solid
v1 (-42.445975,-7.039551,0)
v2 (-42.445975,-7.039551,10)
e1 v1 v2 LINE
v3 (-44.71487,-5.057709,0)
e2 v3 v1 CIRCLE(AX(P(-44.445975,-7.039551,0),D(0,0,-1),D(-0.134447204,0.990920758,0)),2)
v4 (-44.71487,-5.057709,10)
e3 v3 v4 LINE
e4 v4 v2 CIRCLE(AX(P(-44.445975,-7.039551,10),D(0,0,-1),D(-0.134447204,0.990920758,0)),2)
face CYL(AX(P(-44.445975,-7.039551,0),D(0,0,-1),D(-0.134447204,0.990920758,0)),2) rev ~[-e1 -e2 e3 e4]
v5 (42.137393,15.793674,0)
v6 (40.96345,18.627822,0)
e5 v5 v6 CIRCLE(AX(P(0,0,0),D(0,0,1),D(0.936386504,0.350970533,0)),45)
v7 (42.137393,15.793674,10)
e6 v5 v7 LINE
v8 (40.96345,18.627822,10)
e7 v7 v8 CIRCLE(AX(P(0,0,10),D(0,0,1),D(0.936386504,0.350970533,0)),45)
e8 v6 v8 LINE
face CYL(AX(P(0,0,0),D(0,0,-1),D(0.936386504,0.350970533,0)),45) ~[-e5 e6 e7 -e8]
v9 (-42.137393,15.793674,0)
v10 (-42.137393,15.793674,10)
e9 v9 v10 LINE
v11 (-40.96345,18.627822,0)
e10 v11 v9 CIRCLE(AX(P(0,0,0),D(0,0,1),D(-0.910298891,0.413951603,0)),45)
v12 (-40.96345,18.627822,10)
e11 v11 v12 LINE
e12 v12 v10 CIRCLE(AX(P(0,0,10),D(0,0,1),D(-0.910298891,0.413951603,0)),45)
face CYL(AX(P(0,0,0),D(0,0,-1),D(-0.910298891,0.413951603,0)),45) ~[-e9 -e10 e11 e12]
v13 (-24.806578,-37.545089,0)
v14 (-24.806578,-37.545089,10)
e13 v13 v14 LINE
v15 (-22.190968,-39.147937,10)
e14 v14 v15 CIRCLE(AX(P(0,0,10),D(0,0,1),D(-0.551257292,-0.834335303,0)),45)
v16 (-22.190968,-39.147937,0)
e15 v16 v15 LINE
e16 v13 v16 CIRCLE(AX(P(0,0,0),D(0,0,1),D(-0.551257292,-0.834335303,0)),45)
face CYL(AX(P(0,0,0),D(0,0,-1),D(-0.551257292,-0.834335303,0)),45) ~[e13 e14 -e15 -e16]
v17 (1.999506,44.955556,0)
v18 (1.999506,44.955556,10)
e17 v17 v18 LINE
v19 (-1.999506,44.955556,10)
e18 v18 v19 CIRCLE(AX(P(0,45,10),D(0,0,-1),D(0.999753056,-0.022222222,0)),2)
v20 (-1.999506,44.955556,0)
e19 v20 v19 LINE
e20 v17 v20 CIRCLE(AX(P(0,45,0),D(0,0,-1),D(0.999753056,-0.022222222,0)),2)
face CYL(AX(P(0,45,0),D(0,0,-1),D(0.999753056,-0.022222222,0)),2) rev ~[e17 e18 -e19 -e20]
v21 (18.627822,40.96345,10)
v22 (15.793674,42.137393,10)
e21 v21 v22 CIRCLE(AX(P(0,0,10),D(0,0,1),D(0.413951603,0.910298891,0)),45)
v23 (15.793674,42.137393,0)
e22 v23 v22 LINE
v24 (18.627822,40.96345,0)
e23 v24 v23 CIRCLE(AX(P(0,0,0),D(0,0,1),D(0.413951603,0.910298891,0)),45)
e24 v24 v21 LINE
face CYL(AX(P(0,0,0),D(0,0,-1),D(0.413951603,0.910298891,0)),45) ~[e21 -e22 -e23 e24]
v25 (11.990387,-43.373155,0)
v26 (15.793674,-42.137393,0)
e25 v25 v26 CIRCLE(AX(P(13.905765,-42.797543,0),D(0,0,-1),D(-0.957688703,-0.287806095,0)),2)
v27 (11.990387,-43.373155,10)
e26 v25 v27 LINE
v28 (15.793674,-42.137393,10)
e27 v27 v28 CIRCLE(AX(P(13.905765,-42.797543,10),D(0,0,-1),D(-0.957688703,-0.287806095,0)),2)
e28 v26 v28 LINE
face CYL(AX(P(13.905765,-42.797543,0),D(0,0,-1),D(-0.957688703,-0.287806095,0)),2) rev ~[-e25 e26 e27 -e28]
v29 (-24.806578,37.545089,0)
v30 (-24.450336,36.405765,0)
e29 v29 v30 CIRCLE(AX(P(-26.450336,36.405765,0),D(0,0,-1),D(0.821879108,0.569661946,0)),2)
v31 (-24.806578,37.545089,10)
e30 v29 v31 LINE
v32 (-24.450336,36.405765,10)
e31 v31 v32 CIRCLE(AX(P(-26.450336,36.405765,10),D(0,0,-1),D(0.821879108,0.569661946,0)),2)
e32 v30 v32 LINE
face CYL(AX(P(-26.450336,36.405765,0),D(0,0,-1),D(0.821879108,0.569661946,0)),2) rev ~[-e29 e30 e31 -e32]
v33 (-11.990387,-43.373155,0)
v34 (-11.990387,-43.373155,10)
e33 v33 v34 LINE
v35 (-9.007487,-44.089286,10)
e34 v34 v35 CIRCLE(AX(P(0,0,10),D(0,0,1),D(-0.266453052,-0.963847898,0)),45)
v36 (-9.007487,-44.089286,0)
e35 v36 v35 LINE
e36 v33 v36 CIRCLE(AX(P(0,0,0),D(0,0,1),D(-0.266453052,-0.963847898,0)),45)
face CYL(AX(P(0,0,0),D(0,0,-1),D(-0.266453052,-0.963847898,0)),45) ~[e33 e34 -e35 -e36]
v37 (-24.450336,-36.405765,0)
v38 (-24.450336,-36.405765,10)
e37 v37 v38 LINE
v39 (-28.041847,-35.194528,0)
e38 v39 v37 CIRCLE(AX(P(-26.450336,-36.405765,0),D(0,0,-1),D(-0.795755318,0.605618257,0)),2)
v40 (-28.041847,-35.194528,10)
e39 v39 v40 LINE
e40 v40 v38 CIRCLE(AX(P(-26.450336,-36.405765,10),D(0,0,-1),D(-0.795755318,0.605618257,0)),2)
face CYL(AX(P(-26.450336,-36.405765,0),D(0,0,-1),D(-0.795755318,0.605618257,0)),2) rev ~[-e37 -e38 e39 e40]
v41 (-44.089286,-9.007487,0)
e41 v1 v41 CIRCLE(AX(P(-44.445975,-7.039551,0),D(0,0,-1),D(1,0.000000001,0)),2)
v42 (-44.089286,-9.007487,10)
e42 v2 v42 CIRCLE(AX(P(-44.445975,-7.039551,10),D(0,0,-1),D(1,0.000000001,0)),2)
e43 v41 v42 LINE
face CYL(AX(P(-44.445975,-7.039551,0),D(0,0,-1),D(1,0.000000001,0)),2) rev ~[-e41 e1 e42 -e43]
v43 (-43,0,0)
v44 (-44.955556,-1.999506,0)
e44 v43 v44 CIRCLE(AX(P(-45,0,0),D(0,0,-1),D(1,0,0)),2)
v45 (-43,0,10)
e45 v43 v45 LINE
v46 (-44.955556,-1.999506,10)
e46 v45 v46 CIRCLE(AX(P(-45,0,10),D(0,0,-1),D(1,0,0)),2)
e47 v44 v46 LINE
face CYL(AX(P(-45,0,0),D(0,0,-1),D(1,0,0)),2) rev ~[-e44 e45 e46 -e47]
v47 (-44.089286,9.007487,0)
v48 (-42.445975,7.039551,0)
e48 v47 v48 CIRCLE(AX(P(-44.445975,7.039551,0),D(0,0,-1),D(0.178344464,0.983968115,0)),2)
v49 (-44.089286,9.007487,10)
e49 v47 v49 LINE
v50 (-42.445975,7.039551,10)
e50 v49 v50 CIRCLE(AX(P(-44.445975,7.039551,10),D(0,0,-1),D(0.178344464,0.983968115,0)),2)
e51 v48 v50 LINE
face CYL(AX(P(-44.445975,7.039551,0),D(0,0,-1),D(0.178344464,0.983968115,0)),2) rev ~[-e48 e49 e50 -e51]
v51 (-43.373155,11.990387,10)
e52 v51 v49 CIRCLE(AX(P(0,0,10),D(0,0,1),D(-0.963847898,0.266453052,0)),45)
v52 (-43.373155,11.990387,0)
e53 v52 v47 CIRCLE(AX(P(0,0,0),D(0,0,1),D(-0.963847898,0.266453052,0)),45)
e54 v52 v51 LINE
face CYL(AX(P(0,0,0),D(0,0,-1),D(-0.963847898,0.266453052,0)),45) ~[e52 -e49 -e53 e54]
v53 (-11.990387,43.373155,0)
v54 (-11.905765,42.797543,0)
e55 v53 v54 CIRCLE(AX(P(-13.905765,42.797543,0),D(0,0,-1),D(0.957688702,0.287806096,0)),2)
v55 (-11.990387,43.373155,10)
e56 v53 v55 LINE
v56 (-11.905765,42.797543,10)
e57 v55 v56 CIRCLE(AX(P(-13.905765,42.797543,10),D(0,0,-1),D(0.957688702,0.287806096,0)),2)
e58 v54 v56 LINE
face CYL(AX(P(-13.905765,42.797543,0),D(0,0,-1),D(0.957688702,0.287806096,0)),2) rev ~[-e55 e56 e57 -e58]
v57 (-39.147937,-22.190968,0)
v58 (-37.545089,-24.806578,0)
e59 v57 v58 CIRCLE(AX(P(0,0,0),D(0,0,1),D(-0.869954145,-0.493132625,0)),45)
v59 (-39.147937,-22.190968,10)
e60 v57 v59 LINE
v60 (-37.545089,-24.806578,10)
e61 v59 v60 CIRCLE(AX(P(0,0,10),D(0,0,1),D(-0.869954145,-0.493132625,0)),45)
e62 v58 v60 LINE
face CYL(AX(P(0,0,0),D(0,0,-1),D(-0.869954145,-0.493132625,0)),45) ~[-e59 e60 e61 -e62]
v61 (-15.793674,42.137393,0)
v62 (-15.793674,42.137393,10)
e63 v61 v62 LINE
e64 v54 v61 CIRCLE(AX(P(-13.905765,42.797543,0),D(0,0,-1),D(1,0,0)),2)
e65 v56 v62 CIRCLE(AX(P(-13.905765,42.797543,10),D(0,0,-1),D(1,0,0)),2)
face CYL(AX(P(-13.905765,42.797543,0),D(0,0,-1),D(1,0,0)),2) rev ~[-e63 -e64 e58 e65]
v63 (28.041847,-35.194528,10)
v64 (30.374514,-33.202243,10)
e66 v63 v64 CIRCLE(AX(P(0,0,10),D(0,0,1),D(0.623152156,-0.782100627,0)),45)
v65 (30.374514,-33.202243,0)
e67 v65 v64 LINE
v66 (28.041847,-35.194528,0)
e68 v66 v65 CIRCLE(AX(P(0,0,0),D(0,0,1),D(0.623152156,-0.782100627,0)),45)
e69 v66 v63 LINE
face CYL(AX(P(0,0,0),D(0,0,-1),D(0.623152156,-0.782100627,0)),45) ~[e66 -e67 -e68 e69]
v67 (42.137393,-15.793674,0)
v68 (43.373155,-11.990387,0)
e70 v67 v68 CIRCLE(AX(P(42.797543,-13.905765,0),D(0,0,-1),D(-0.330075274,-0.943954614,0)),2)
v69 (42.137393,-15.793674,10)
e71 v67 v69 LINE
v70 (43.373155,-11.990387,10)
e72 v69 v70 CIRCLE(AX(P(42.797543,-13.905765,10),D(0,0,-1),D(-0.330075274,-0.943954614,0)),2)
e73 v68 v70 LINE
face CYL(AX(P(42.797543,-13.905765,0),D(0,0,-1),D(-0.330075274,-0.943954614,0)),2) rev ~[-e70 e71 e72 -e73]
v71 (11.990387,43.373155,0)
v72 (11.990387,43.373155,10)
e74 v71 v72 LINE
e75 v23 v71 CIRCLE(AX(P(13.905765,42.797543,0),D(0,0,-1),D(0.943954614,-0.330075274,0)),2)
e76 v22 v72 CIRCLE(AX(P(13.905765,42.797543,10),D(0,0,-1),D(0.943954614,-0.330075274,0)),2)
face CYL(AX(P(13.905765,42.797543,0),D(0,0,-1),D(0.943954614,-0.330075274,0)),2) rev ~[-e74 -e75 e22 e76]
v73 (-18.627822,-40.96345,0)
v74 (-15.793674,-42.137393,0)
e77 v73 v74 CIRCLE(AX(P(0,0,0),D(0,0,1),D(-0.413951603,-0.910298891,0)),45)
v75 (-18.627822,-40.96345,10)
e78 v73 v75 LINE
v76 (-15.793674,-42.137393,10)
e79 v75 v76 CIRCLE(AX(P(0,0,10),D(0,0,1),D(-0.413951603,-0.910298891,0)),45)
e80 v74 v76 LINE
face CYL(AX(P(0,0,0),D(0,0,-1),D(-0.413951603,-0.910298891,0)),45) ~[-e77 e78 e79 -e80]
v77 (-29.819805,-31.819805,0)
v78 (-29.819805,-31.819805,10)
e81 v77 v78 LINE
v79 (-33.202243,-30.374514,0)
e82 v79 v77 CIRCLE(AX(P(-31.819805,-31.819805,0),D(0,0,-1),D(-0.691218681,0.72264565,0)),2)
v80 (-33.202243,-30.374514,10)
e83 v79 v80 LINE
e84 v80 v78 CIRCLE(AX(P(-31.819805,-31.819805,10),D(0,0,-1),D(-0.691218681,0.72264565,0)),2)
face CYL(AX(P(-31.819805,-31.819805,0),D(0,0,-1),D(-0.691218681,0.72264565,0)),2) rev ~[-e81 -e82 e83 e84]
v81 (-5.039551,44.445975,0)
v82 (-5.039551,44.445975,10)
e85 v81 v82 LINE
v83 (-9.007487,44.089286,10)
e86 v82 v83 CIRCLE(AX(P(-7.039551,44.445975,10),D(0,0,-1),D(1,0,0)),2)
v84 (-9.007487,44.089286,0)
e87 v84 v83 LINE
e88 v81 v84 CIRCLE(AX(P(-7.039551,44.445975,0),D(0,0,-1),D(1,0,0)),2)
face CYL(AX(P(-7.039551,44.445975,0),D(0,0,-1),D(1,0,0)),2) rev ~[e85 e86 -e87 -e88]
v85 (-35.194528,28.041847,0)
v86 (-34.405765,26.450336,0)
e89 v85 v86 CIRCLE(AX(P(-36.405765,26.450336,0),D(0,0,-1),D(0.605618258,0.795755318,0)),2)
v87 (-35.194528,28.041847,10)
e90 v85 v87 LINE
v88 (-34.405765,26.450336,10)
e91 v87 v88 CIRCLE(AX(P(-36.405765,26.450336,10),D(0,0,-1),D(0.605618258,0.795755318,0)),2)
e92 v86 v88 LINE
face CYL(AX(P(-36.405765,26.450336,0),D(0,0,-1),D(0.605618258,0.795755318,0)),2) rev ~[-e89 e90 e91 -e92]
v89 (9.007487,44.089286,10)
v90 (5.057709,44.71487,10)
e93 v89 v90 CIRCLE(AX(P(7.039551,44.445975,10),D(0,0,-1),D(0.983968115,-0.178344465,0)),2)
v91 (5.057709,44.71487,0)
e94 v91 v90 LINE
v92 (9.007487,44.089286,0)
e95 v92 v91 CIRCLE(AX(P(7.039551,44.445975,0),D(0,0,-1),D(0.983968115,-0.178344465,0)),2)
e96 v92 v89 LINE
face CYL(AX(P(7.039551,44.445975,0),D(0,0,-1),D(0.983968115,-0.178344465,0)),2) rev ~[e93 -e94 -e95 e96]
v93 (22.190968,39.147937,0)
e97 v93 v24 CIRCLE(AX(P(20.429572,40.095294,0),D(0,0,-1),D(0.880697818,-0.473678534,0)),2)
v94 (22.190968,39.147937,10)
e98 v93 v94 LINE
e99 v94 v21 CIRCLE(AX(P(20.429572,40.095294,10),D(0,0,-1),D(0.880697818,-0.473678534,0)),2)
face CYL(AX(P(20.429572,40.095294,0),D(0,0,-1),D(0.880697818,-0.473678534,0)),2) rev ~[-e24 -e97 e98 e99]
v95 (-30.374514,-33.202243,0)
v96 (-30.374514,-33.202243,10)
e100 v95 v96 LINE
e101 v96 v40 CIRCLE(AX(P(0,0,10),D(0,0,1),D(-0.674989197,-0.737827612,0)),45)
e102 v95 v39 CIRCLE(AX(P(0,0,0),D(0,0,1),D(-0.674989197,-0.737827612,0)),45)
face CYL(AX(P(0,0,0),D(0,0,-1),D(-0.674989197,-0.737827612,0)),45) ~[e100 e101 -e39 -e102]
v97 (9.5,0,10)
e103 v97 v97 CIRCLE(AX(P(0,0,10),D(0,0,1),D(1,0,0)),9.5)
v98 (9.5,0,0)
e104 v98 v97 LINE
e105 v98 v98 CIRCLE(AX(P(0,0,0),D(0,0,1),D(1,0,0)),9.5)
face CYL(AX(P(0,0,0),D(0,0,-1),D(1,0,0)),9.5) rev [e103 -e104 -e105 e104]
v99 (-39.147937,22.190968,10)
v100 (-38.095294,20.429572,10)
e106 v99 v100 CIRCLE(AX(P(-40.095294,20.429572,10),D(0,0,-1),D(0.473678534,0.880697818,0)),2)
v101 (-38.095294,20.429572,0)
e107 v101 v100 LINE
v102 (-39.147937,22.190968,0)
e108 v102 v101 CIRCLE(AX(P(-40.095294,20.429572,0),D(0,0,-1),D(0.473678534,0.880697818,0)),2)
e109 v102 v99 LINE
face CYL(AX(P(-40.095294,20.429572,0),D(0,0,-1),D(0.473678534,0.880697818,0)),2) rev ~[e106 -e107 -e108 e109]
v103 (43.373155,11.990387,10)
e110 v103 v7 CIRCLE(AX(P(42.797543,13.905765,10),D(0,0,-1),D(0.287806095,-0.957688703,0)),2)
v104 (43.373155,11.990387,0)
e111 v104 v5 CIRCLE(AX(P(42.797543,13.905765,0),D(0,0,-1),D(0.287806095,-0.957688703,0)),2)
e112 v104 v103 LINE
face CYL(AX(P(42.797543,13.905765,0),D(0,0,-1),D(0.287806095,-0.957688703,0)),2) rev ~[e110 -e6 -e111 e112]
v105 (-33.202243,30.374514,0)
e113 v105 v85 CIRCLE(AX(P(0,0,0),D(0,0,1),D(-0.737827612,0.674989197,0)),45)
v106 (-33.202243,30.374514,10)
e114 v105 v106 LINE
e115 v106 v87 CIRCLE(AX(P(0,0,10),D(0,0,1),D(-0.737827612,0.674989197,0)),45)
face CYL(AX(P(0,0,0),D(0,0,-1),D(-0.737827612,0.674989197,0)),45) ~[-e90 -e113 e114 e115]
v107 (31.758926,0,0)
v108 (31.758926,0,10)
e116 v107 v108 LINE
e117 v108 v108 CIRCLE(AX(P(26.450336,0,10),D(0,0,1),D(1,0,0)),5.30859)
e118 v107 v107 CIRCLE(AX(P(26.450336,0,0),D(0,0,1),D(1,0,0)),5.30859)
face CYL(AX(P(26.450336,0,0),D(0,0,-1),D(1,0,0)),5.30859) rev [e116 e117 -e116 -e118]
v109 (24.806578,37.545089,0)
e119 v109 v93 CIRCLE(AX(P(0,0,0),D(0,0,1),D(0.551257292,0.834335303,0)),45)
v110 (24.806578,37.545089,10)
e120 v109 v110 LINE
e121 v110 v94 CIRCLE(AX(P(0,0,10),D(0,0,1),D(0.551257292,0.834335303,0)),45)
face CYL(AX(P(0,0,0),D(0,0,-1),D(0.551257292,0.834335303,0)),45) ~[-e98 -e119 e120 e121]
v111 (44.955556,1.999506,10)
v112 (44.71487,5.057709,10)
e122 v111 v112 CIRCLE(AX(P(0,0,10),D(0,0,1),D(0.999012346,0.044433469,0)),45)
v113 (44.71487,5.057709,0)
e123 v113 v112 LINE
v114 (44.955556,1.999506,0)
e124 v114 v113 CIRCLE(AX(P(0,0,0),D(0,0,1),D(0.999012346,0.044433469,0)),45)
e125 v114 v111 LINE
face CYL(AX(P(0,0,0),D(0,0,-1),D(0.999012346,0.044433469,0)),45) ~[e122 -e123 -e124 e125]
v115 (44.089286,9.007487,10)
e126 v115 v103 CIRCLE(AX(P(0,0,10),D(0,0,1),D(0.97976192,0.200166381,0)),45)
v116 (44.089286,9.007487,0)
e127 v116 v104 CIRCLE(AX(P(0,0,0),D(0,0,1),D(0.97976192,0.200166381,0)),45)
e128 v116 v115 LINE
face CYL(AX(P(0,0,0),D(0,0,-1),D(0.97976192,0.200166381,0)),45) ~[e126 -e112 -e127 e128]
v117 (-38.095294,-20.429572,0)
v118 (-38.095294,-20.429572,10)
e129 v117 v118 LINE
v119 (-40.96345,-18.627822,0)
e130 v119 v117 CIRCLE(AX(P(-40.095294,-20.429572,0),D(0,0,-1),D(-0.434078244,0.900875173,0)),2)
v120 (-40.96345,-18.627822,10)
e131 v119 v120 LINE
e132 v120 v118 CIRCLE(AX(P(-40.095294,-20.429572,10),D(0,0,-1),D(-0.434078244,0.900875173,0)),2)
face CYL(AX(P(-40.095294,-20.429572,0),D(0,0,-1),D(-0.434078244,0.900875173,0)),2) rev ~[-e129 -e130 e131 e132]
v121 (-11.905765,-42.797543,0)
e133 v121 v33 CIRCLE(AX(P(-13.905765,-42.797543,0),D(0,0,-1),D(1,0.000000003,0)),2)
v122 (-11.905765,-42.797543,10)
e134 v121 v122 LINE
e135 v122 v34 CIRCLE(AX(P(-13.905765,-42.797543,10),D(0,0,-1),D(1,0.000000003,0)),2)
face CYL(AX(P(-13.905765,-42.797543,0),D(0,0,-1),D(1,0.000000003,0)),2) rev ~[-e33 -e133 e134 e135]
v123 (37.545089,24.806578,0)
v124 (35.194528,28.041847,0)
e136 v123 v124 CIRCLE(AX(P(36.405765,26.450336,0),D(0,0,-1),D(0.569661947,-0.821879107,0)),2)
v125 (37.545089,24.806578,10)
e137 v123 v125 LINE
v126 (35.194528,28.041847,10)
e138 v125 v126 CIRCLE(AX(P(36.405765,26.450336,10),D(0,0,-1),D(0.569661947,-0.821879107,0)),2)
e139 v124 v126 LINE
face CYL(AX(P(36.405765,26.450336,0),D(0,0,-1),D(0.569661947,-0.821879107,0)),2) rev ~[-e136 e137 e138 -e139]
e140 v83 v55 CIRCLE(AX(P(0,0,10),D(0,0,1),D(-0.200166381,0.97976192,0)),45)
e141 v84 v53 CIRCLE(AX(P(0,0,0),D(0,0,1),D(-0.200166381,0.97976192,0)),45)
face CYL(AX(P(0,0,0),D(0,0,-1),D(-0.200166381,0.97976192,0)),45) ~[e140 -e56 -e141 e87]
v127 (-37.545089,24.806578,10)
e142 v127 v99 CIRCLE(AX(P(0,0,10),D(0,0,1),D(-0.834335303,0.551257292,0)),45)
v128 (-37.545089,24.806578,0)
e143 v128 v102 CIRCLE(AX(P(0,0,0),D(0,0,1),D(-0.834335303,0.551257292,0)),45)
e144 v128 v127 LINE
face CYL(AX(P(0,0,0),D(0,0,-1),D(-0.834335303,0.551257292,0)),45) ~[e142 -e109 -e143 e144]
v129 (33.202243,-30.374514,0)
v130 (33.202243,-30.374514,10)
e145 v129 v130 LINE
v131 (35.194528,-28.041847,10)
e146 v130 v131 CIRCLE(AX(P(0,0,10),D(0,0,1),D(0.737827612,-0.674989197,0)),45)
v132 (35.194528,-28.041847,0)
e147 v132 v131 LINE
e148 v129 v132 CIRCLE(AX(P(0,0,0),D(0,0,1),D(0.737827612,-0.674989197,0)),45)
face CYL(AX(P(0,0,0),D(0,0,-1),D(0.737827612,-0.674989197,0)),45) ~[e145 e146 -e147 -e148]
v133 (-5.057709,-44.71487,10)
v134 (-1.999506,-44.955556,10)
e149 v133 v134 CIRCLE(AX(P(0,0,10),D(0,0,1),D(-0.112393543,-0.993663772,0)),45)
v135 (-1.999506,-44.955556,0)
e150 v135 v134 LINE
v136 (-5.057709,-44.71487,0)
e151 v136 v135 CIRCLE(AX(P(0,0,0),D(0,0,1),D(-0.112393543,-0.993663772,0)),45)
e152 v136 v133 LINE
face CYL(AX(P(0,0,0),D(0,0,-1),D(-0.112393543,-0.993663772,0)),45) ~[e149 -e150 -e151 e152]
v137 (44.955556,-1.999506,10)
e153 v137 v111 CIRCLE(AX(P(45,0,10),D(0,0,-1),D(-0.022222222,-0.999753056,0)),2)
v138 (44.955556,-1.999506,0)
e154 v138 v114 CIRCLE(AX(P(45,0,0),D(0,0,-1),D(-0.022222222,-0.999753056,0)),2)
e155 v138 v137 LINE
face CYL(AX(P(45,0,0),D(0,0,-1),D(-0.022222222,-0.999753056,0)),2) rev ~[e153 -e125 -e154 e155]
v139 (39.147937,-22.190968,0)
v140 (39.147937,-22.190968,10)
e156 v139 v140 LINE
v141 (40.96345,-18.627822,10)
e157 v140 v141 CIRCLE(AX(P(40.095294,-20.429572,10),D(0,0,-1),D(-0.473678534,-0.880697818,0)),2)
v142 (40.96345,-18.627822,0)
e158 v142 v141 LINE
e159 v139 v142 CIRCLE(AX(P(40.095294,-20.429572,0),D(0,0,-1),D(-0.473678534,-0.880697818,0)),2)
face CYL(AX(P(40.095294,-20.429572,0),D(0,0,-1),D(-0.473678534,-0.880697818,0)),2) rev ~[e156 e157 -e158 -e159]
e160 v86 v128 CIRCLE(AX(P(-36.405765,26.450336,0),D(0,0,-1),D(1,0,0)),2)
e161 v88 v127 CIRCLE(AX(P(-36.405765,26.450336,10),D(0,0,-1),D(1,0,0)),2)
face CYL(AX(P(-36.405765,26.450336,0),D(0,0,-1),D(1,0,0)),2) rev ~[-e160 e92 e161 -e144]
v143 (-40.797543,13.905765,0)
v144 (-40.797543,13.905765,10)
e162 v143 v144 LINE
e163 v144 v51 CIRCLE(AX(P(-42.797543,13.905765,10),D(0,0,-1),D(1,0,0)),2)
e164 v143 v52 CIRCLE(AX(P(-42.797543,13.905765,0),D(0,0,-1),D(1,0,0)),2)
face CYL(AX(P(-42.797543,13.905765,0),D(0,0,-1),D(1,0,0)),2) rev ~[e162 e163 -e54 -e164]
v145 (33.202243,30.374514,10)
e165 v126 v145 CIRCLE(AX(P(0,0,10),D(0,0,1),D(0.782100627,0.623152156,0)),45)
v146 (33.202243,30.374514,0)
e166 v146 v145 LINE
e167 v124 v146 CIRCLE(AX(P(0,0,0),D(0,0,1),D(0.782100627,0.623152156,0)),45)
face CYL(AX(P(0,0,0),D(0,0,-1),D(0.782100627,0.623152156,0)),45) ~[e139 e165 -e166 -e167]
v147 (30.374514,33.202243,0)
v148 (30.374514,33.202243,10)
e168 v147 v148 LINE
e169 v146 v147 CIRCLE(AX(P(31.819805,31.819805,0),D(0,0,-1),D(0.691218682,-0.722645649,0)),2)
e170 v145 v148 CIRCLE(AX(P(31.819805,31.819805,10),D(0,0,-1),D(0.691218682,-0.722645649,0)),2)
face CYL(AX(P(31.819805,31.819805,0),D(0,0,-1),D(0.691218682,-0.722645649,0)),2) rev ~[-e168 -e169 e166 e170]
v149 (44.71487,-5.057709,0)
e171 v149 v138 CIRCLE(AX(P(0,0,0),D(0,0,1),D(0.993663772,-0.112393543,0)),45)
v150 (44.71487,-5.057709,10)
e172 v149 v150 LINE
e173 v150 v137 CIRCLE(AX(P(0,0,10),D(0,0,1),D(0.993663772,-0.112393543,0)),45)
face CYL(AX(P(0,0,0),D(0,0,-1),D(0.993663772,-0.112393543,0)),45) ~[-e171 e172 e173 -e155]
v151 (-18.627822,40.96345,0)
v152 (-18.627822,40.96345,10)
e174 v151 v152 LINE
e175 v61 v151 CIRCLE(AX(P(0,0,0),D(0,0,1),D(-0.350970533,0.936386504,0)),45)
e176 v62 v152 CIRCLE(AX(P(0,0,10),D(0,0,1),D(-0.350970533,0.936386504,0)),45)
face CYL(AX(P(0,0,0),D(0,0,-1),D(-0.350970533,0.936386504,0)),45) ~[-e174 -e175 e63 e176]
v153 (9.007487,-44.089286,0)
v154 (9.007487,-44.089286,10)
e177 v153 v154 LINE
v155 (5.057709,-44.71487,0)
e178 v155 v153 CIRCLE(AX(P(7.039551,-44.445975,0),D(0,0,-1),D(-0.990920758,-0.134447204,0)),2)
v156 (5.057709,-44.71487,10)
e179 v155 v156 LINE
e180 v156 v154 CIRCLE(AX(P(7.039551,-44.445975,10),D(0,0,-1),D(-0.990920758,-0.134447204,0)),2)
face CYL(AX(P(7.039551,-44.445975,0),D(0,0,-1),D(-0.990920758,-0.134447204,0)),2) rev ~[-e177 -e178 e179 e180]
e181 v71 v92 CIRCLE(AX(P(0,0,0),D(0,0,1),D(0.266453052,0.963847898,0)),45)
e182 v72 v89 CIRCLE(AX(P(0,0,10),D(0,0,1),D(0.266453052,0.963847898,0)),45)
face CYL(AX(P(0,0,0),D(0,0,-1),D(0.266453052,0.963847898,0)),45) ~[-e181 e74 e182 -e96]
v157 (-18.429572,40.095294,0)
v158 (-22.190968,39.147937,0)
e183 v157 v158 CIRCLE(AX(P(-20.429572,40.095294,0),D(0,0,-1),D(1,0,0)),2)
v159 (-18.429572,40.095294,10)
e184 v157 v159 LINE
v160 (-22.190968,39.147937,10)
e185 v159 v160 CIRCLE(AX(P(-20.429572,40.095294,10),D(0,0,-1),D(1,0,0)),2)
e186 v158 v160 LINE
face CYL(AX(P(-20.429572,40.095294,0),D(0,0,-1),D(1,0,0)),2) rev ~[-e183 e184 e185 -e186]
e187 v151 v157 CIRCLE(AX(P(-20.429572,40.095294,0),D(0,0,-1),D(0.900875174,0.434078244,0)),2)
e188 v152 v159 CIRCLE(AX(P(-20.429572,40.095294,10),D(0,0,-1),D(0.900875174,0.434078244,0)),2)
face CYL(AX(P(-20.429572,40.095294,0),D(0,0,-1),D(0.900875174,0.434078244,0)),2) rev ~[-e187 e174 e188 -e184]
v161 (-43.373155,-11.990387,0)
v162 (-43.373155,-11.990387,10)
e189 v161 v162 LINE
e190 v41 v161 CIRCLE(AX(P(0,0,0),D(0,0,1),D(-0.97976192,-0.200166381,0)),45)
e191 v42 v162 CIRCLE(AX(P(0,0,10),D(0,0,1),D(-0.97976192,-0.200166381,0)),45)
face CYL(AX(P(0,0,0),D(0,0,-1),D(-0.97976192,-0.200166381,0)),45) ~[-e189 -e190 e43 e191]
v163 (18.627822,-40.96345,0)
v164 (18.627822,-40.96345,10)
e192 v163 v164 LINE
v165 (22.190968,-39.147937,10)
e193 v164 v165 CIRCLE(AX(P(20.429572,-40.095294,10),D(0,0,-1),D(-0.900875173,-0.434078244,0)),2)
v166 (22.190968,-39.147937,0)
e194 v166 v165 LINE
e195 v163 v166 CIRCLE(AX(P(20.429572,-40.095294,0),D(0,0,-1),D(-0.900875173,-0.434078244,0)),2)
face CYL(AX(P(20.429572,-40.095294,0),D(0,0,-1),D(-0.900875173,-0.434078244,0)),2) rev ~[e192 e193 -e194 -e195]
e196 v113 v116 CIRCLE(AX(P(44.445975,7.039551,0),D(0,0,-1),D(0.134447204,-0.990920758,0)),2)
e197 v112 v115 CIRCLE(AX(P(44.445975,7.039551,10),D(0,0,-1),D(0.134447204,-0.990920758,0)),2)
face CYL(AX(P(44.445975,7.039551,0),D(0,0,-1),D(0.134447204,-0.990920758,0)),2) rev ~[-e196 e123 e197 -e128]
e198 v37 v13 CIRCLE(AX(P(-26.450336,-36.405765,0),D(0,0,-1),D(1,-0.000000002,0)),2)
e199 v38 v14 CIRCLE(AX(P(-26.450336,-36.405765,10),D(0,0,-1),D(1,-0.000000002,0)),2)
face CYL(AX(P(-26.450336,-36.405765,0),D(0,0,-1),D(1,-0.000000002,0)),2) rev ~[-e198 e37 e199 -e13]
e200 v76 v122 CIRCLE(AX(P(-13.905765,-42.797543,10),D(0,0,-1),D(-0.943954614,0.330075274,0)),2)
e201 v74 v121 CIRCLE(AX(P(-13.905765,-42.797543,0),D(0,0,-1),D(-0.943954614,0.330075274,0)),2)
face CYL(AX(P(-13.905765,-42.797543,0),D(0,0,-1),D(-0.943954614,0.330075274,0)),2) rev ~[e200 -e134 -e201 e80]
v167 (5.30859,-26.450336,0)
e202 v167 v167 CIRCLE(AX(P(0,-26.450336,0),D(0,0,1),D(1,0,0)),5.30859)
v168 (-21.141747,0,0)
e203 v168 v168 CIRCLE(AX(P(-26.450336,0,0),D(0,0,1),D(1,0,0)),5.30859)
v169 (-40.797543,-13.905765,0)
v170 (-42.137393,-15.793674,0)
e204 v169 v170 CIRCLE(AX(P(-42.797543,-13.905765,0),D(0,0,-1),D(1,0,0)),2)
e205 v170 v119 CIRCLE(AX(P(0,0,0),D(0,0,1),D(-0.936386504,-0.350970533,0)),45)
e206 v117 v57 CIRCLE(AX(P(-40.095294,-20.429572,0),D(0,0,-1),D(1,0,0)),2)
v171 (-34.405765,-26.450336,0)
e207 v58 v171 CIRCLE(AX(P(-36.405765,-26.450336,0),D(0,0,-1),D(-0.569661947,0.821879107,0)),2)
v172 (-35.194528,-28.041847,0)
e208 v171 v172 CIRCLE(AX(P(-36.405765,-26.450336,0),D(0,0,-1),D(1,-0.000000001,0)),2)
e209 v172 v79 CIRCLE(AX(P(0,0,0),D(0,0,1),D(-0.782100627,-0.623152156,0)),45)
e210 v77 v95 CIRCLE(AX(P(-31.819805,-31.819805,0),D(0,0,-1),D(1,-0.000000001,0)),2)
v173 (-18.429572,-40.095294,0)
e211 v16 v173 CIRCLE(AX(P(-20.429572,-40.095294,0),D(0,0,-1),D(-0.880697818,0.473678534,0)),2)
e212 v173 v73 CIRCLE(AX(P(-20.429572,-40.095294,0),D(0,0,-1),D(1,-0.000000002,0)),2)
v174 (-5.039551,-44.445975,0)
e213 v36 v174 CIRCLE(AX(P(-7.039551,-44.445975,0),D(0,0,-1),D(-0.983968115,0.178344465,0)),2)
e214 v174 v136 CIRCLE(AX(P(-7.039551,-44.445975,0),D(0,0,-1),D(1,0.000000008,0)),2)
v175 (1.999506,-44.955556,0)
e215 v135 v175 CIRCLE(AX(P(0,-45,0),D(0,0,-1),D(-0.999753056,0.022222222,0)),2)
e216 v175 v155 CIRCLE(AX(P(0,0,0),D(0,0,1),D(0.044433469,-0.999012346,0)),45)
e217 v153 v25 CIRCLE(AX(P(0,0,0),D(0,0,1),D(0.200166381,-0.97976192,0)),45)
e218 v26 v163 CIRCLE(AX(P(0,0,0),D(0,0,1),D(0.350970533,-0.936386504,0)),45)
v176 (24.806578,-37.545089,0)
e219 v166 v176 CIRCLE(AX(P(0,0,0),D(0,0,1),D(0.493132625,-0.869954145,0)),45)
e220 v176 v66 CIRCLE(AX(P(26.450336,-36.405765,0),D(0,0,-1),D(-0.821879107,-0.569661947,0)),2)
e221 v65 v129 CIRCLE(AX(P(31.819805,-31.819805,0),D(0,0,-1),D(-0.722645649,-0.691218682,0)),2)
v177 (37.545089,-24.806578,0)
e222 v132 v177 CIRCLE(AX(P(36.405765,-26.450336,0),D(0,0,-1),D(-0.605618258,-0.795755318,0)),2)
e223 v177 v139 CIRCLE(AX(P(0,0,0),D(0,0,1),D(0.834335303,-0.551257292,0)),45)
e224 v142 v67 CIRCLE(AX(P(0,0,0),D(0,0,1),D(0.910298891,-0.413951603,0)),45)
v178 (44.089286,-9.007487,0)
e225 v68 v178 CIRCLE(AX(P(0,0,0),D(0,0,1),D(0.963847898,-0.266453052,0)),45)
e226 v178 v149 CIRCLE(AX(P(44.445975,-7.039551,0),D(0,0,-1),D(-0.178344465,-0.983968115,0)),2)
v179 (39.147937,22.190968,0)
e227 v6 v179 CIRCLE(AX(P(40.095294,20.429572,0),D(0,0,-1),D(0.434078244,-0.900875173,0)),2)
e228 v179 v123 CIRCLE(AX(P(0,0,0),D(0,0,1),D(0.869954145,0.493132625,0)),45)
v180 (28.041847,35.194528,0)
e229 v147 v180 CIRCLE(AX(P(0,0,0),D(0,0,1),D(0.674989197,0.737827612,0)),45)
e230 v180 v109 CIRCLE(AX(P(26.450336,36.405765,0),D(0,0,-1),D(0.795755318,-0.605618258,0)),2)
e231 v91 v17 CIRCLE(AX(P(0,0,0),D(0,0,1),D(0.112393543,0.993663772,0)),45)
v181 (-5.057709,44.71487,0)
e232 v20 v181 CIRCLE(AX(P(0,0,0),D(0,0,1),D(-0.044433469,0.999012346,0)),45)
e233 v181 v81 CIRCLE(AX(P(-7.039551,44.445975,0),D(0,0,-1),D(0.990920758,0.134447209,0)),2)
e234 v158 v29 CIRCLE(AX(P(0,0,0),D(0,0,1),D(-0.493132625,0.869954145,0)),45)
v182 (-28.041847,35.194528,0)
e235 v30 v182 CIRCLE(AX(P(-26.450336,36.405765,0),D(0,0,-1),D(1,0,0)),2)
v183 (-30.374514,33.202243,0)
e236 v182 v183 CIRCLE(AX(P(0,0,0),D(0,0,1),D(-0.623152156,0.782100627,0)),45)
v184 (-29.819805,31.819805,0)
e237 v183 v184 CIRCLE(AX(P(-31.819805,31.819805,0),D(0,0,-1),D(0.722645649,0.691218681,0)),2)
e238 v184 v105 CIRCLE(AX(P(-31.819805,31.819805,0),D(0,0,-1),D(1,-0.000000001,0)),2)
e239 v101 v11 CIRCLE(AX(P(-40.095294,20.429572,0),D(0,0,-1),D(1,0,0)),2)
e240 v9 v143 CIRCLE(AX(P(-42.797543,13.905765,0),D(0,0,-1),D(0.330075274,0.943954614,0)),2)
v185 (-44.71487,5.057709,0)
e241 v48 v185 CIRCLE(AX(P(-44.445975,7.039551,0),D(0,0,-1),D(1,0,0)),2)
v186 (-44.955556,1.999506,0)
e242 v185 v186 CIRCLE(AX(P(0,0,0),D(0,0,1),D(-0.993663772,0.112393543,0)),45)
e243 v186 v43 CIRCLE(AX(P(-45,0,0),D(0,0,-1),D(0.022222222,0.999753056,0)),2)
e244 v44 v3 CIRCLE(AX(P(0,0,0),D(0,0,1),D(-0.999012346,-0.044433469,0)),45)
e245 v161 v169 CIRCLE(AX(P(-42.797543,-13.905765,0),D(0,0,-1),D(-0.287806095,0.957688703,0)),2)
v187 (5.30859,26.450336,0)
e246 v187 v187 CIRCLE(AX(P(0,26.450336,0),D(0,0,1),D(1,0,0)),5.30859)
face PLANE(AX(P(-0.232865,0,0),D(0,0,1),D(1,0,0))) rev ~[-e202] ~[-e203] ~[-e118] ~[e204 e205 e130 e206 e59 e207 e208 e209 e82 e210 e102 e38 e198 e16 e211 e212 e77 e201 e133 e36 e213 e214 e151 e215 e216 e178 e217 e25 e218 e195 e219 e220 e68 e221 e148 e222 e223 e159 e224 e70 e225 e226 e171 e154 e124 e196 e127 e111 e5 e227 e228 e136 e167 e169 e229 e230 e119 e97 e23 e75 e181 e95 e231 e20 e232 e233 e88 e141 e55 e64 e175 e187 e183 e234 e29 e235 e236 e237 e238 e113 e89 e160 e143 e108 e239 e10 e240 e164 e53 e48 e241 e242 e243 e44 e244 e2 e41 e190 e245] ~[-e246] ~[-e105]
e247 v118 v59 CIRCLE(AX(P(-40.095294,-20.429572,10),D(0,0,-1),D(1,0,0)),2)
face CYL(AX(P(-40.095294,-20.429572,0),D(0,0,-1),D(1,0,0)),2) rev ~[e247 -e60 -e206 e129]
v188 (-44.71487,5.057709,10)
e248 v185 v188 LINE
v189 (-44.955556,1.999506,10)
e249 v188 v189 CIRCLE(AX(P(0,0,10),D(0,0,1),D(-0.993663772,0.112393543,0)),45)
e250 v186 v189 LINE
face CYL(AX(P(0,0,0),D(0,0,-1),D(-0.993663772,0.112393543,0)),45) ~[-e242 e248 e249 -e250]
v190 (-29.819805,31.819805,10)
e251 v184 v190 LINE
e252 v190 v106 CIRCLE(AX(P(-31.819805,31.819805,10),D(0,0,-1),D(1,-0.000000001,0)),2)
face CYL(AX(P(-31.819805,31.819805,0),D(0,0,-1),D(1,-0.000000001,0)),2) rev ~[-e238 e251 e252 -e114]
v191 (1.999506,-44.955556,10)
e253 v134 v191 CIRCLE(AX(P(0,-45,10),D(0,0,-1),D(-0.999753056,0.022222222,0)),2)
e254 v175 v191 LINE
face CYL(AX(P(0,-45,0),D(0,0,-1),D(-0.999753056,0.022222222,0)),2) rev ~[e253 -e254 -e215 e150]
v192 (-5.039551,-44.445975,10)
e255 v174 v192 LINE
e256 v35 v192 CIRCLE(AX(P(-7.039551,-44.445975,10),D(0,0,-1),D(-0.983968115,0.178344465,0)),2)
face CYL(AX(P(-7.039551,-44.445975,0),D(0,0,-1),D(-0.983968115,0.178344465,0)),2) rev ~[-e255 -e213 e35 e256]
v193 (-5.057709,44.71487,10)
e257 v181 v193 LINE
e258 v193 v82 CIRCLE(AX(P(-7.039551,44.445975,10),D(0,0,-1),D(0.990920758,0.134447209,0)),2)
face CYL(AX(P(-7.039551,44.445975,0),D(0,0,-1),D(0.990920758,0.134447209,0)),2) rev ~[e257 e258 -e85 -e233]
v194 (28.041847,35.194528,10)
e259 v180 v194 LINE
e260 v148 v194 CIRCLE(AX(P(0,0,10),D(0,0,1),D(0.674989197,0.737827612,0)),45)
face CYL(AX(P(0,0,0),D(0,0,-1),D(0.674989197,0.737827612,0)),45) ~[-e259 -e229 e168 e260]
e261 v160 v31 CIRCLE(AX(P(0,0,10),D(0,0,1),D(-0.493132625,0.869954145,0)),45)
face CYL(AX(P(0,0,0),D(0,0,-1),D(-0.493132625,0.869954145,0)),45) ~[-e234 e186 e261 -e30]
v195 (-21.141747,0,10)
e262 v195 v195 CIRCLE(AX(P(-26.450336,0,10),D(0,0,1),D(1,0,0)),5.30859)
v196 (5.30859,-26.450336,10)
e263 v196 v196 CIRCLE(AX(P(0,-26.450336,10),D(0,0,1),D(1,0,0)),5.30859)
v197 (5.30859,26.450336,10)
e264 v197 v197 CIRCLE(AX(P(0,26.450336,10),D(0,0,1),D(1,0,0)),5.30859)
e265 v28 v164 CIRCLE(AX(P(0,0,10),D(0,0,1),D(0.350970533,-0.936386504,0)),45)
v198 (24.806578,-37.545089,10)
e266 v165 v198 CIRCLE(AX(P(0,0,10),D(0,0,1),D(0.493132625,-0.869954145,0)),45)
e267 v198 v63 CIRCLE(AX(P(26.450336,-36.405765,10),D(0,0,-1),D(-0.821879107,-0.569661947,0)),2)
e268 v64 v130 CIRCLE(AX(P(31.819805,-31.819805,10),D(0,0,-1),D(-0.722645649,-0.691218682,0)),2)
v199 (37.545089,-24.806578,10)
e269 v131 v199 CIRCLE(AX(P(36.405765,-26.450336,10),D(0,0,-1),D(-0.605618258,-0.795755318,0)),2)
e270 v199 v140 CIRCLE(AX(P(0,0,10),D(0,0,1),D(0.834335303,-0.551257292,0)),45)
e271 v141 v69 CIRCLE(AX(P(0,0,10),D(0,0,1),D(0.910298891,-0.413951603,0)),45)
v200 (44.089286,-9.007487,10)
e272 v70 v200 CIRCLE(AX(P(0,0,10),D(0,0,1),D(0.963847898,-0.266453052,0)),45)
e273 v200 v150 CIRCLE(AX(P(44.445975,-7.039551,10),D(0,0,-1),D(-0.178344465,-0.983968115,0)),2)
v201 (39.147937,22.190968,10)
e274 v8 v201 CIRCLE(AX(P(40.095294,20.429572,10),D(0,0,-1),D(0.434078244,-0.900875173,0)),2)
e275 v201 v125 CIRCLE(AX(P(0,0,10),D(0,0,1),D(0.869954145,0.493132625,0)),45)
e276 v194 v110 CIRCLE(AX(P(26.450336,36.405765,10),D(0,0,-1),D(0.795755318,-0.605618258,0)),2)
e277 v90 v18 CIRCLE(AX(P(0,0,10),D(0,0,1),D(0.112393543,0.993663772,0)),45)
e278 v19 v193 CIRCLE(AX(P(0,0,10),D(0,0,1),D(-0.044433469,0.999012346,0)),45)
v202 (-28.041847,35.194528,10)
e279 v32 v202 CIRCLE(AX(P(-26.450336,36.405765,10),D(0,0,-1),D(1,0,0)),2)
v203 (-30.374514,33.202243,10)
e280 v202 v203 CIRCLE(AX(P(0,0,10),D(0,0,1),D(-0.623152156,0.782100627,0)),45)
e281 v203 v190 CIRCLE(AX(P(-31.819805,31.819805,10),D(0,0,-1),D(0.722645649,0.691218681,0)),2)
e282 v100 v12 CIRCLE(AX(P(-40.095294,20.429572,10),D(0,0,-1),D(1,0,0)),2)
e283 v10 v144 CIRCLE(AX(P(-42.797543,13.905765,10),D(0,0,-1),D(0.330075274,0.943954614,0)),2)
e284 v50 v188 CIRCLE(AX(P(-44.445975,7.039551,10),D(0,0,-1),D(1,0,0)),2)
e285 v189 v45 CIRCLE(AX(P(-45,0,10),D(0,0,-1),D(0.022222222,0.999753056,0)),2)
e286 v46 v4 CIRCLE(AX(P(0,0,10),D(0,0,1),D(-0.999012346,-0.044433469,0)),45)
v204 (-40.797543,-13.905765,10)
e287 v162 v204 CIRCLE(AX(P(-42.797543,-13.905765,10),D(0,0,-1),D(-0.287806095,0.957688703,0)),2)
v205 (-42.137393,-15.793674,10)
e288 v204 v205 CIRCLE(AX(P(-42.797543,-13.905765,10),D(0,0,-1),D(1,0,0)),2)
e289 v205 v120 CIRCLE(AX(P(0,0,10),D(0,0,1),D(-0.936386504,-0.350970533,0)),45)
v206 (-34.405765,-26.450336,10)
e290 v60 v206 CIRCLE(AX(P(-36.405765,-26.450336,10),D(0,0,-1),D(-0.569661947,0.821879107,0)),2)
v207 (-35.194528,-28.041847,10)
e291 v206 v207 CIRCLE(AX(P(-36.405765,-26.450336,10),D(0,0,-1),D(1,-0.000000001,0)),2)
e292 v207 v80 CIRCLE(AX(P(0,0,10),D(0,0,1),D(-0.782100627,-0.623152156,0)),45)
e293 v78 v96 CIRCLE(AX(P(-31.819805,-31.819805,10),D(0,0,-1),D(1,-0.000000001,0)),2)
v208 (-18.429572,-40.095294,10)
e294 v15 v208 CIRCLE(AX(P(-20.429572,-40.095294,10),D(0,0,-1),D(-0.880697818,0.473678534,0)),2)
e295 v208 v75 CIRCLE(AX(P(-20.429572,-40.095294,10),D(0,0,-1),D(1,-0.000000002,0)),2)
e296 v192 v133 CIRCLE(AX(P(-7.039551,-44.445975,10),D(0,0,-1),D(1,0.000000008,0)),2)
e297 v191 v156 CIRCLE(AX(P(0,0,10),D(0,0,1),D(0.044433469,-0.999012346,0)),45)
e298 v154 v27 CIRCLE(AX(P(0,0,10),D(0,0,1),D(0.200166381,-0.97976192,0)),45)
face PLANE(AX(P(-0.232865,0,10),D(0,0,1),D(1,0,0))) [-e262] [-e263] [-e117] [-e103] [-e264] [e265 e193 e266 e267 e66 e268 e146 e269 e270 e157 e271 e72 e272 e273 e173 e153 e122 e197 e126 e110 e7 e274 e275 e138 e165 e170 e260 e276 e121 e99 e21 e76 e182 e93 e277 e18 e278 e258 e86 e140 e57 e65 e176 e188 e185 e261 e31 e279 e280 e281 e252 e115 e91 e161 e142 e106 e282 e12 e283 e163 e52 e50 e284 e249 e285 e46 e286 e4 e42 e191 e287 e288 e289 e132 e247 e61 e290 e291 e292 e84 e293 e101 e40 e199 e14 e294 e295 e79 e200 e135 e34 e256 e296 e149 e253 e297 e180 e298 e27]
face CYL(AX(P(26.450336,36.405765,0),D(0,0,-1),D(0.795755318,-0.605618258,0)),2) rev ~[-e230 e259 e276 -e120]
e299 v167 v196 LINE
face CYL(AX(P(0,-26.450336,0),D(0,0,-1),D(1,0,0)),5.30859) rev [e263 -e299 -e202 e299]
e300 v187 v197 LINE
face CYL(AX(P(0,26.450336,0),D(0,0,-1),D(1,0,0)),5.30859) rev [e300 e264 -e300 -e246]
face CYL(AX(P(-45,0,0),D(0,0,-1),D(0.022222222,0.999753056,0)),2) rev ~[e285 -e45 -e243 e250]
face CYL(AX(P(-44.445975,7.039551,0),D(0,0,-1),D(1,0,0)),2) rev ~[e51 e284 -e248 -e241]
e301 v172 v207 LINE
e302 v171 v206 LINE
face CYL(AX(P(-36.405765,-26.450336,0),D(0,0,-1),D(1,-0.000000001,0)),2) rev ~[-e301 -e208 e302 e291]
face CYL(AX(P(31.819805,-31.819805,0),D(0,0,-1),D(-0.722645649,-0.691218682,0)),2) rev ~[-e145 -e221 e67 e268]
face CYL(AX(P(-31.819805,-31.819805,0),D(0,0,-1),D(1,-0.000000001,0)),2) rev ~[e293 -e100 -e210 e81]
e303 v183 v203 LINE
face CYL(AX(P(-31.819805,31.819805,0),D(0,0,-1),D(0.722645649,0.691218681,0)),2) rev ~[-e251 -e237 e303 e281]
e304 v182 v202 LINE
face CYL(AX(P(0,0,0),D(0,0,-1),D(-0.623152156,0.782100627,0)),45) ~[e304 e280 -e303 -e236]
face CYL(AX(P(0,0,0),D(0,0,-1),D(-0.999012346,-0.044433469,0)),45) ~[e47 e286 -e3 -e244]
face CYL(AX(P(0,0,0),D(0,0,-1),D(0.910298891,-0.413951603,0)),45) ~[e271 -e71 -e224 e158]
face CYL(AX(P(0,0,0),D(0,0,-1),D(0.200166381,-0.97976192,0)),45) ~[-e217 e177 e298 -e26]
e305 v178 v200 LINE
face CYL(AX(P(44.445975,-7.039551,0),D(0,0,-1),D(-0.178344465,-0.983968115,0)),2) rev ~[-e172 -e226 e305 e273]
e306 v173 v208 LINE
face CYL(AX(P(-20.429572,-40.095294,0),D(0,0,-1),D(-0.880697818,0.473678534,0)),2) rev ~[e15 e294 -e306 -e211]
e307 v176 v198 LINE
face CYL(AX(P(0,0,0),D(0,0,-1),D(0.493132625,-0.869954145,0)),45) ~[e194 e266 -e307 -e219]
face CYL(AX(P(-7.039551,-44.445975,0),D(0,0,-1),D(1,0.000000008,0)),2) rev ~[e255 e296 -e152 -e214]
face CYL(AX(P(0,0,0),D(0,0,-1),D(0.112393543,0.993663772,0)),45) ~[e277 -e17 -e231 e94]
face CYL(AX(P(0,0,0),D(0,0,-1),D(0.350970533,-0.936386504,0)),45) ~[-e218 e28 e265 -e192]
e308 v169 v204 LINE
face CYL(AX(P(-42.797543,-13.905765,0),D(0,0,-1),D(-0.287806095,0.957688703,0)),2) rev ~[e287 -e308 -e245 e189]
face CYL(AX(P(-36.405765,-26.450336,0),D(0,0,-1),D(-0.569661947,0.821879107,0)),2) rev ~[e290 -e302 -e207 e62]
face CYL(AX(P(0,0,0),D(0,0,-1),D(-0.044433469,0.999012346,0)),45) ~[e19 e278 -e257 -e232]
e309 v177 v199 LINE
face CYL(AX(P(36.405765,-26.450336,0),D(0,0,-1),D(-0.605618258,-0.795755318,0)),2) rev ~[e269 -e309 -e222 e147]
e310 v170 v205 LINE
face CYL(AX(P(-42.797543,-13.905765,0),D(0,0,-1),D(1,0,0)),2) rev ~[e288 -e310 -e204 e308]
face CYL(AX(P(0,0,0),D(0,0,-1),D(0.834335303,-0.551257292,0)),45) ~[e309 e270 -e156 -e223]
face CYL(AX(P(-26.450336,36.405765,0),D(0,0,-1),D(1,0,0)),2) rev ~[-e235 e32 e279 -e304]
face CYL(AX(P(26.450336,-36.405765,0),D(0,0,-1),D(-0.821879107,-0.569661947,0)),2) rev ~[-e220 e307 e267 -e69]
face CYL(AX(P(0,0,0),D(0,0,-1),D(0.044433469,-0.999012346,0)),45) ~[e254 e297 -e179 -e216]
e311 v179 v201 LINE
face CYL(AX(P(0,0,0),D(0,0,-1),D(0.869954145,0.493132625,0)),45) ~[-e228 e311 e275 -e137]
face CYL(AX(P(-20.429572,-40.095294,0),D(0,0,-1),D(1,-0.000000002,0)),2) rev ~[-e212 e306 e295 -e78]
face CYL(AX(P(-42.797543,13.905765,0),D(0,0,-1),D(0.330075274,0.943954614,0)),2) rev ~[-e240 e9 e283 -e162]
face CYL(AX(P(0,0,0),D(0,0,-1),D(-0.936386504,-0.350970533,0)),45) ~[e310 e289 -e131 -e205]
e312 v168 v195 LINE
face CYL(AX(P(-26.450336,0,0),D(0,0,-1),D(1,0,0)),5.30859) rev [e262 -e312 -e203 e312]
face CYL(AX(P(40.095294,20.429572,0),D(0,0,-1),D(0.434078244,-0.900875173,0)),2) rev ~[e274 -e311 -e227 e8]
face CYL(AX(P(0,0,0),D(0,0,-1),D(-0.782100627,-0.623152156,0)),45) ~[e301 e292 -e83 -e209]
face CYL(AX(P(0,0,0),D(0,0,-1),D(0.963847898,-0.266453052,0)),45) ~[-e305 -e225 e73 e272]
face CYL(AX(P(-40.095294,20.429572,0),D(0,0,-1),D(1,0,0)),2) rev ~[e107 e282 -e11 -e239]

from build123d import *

# Parameters (mm, degrees)
SKETCH_8_R      = 5.308589755
SKETCH_8_R_2    = 9.5
EXTRUDE_1_DEPTH = 10


with BuildPart() as part:
    # 草图8 → 凸台-拉伸1 (new body)
    with BuildSketch(Plane.XY):
        with BuildLine():
            ThreePointArc((44.955555556, -1.999506112), (43, 0), (44.955555556, 1.999506112))
            ThreePointArc((44.955555556, 1.999506112), (44.861280018, 3.530659308), (44.714869736, 5.05770941))
            ThreePointArc((44.714869736, 5.05770941), (42.470598646, 6.726681997), (44.089286398, 9.007487158))
            ThreePointArc((44.089286398, 9.007487158), (43.756646418, 10.505041374), (43.373155424, 11.990387341))
            ThreePointArc((43.373155424, 11.990387341), (40.895430201, 13.287730758), (42.137392686, 15.793673975))
            ThreePointArc((42.137392686, 15.793673975), (41.574578963, 17.220754456), (40.963450077, 18.627822142))
            ThreePointArc((40.963450077, 18.627822142), (38.31328054, 19.521591489), (39.14793652, 22.190968124))
            ThreePointArc((39.14793652, 22.190968124), (38.368807396, 23.512435412), (37.54508864, 24.806578139))
            ThreePointArc((37.54508864, 24.806578139), (34.787730758, 25.274765849), (35.194528232, 28.041846989))
            ThreePointArc((35.194528232, 28.041846989), (34.218268452, 29.225162175), (33.202242516, 30.374513855))
            ThreePointArc((33.202242516, 30.374513855), (30.405591591, 30.405591591), (30.374513855, 33.202242516))
            ThreePointArc((30.374513855, 33.202242516), (29.225162175, 34.218268452), (28.041846989, 35.194528232))
            ThreePointArc((28.041846989, 35.194528232), (25.274765849, 34.787730758), (24.806578139, 37.54508864))
            ThreePointArc((24.806578139, 37.54508864), (23.512435412, 38.368807396), (22.190968124, 39.14793652))
            ThreePointArc((22.190968124, 39.14793652), (19.521591489, 38.31328054), (18.627822142, 40.963450077))
            ThreePointArc((18.627822142, 40.963450077), (17.220754456, 41.574578963), (15.793673975, 42.137392686))
            ThreePointArc((15.793673975, 42.137392686), (13.287730758, 40.895430201), (11.990387341, 43.373155424))
            ThreePointArc((11.990387341, 43.373155424), (10.505041374, 43.756646418), (9.007487158, 44.089286398))
            ThreePointArc((9.007487158, 44.089286398), (6.726681997, 42.470598646), (5.05770941, 44.714869736))
            ThreePointArc((5.05770941, 44.714869736), (3.530659308, 44.861280018), (1.999506112, 44.955555556))
            ThreePointArc((1.999506112, 44.955555556), (0, 43), (-1.999506112, 44.955555556))
            ThreePointArc((-1.999506112, 44.955555556), (-3.530659308, 44.861280018), (-5.05770941, 44.714869736))
            ThreePointArc((-5.05770941, 44.714869736), (-5.044095711, 44.580728744), (-5.039550927, 44.445975327))
            ThreePointArc((-5.039550927, 44.445975327), (-6.860487337, 42.454007398), (-9.007487158, 44.089286398))
            ThreePointArc((-9.007487158, 44.089286398), (-10.505041374, 43.756646418), (-11.990387341, 43.373155424))
            ThreePointArc((-11.990387341, 43.373155424), (-11.927033485, 43.088442863), (-11.905764747, 42.797543233))
            ThreePointArc((-11.905764747, 42.797543233), (-13.570965148, 40.825765044), (-15.793673975, 42.137392686))
            ThreePointArc((-15.793673975, 42.137392686), (-17.220754456, 41.574578963), (-18.627822142, 40.963450077))
            ThreePointArc((-18.627822142, 40.963450077), (-18.479764717, 40.540545937), (-18.429572488, 40.095293588))
            ThreePointArc((-18.429572488, 40.095293588), (-19.941101031, 38.155861807), (-22.190968124, 39.14793652))
            ThreePointArc((-22.190968124, 39.14793652), (-23.512435412, 38.368807396), (-24.806578139, 37.54508864))
            ThreePointArc((-24.806578139, 37.54508864), (-24.541473285, 37.002624685), (-24.450336353, 36.405764747))
            ThreePointArc((-24.450336353, 36.405764747), (-25.811204626, 34.510636615), (-28.041846989, 35.194528232))
            ThreePointArc((-28.041846989, 35.194528232), (-29.225162175, 34.218268452), (-30.374513855, 33.202242516))
            ThreePointArc((-30.374513855, 33.202242516), (-29.963655564, 32.564592842), (-29.819805153, 31.819805153))
            ThreePointArc((-29.819805153, 31.819805153), (-31.033953617, 29.980664767), (-33.202242516, 30.374513855))
            ThreePointArc((-33.202242516, 30.374513855), (-34.218268452, 29.225162175), (-35.194528232, 28.041846989))
            ThreePointArc((-35.194528232, 28.041846989), (-34.613772416, 27.338459928), (-34.405764747, 26.450336353))
            ThreePointArc((-34.405764747, 26.450336353), (-35.478038437, 24.678522623), (-37.54508864, 24.806578139))
            ThreePointArc((-37.54508864, 24.806578139), (-38.368807396, 23.512435412), (-39.14793652, 22.190968124))
            ThreePointArc((-39.14793652, 22.190968124), (-38.378506744, 21.455556373), (-38.095293588, 20.429572488))
            ThreePointArc((-38.095293588, 20.429572488), (-39.031412246, 18.736009236), (-40.963450077, 18.627822142))
            ThreePointArc((-40.963450077, 18.627822142), (-41.574578963, 17.220754456), (-42.137392686, 15.793673975))
            ThreePointArc((-42.137392686, 15.793673975), (-41.166546438, 15.063283409), (-40.797543233, 13.905764747))
            ThreePointArc((-40.797543233, 13.905764747), (-41.604066041, 12.300893353), (-43.373155424, 11.990387341))
            ThreePointArc((-43.373155424, 11.990387341), (-43.756646418, 10.505041374), (-44.089286398, 9.007487158))
            ThreePointArc((-44.089286398, 9.007487158), (-42.910824217, 8.321467879), (-42.445975327, 7.039550927))
            ThreePointArc((-42.445975327, 7.039550927), (-43.130260468, 5.533265957), (-44.714869736, 5.05770941))
            ThreePointArc((-44.714869736, 5.05770941), (-44.861280018, 3.530659308), (-44.955555556, 1.999506112))
            ThreePointArc((-44.955555556, 1.999506112), (-43.570159294, 1.398411798), (-43, 0))
            ThreePointArc((-43, 0), (-43.570159294, -1.398411798), (-44.955555556, -1.999506112))
            ThreePointArc((-44.955555556, -1.999506112), (-44.861280018, -3.530659308), (-44.714869736, -5.05770941))
            ThreePointArc((-44.714869736, -5.05770941), (-43.130260468, -5.533265957), (-42.445975327, -7.039550927))
            ThreePointArc((-42.445975327, -7.039550927), (-42.910824217, -8.321467879), (-44.089286398, -9.007487158))
            ThreePointArc((-44.089286398, -9.007487158), (-43.756646418, -10.505041374), (-43.373155424, -11.990387341))
            ThreePointArc((-43.373155424, -11.990387341), (-41.604066041, -12.300893353), (-40.797543233, -13.905764747))
            ThreePointArc((-40.797543233, -13.905764747), (-41.166546438, -15.063283409), (-42.137392686, -15.793673975))
            ThreePointArc((-42.137392686, -15.793673975), (-41.574578963, -17.220754456), (-40.963450077, -18.627822142))
            ThreePointArc((-40.963450077, -18.627822142), (-39.031412246, -18.736009236), (-38.095293588, -20.429572488))
            ThreePointArc((-38.095293588, -20.429572488), (-38.378506744, -21.455556373), (-39.14793652, -22.190968124))
            ThreePointArc((-39.14793652, -22.190968124), (-38.368807396, -23.512435412), (-37.54508864, -24.806578139))
            ThreePointArc((-37.54508864, -24.806578139), (-35.478038437, -24.678522623), (-34.405764747, -26.450336353))
            ThreePointArc((-34.405764747, -26.450336353), (-34.613772416, -27.338459928), (-35.194528232, -28.041846989))
            ThreePointArc((-35.194528232, -28.041846989), (-34.218268452, -29.225162175), (-33.202242516, -30.374513855))
            ThreePointArc((-33.202242516, -30.374513855), (-31.033953617, -29.980664767), (-29.819805153, -31.819805153))
            ThreePointArc((-29.819805153, -31.819805153), (-29.963655564, -32.564592842), (-30.374513855, -33.202242516))
            ThreePointArc((-30.374513855, -33.202242516), (-29.225162175, -34.218268452), (-28.041846989, -35.194528232))
            ThreePointArc((-28.041846989, -35.194528232), (-25.811204626, -34.510636615), (-24.450336353, -36.405764747))
            ThreePointArc((-24.450336353, -36.405764747), (-24.541473285, -37.002624685), (-24.806578139, -37.54508864))
            ThreePointArc((-24.806578139, -37.54508864), (-23.512435412, -38.368807396), (-22.190968124, -39.14793652))
            ThreePointArc((-22.190968124, -39.14793652), (-19.941101031, -38.155861807), (-18.429572488, -40.095293588))
            ThreePointArc((-18.429572488, -40.095293588), (-18.479764717, -40.540545937), (-18.627822142, -40.963450077))
            ThreePointArc((-18.627822142, -40.963450077), (-17.220754456, -41.574578963), (-15.793673975, -42.137392686))
            ThreePointArc((-15.793673975, -42.137392686), (-13.570965148, -40.825765044), (-11.905764747, -42.797543233))
            ThreePointArc((-11.905764747, -42.797543233), (-11.927033485, -43.088442863), (-11.990387341, -43.373155424))
            ThreePointArc((-11.990387341, -43.373155424), (-10.505041374, -43.756646418), (-9.007487158, -44.089286398))
            ThreePointArc((-9.007487158, -44.089286398), (-6.860487337, -42.454007398), (-5.039550927, -44.445975327))
            ThreePointArc((-5.039550927, -44.445975327), (-5.044095711, -44.580728744), (-5.05770941, -44.714869736))
            ThreePointArc((-5.05770941, -44.714869736), (-3.530659308, -44.861280018), (-1.999506112, -44.955555556))
            ThreePointArc((-1.999506112, -44.955555556), (0, -43), (1.999506112, -44.955555556))
            ThreePointArc((1.999506112, -44.955555556), (3.530659308, -44.861280018), (5.05770941, -44.714869736))
            ThreePointArc((5.05770941, -44.714869736), (6.726681997, -42.470598646), (9.007487158, -44.089286398))
            ThreePointArc((9.007487158, -44.089286398), (10.505041374, -43.756646418), (11.990387341, -43.373155424))
            ThreePointArc((11.990387341, -43.373155424), (13.287730758, -40.895430201), (15.793673975, -42.137392686))
            ThreePointArc((15.793673975, -42.137392686), (17.220754456, -41.574578963), (18.627822142, -40.963450077))
            ThreePointArc((18.627822142, -40.963450077), (19.521591489, -38.31328054), (22.190968124, -39.14793652))
            ThreePointArc((22.190968124, -39.14793652), (23.512435412, -38.368807396), (24.806578139, -37.54508864))
            ThreePointArc((24.806578139, -37.54508864), (25.274765849, -34.787730758), (28.041846989, -35.194528232))
            ThreePointArc((28.041846989, -35.194528232), (29.225162175, -34.218268452), (30.374513855, -33.202242516))
            ThreePointArc((30.374513855, -33.202242516), (30.405591591, -30.405591591), (33.202242516, -30.374513855))
            ThreePointArc((33.202242516, -30.374513855), (34.218268452, -29.225162175), (35.194528232, -28.041846989))
            ThreePointArc((35.194528232, -28.041846989), (34.787730758, -25.274765849), (37.54508864, -24.806578139))
            ThreePointArc((37.54508864, -24.806578139), (38.368807396, -23.512435412), (39.14793652, -22.190968124))
            ThreePointArc((39.14793652, -22.190968124), (38.31328054, -19.521591489), (40.963450077, -18.627822142))
            ThreePointArc((40.963450077, -18.627822142), (41.574578963, -17.220754456), (42.137392686, -15.793673975))
            ThreePointArc((42.137392686, -15.793673975), (40.895430201, -13.287730758), (43.373155424, -11.990387341))
            ThreePointArc((43.373155424, -11.990387341), (43.756646418, -10.505041374), (44.089286398, -9.007487158))
            ThreePointArc((44.089286398, -9.007487158), (42.470598646, -6.726681997), (44.714869736, -5.05770941))
            ThreePointArc((44.714869736, -5.05770941), (44.861280018, -3.530659308), (44.955555556, -1.999506112))
        make_face()
        with Locations((0, -26.450336353)):
            Circle(SKETCH_8_R, mode=Mode.SUBTRACT)
        with Locations((-26.450336353, 0)):
            Circle(SKETCH_8_R, mode=Mode.SUBTRACT)
        Circle(SKETCH_8_R_2, mode=Mode.SUBTRACT)
        with Locations((0, 26.450336353)):
            Circle(SKETCH_8_R, mode=Mode.SUBTRACT)
        with Locations((26.450336353, 0)):
            Circle(SKETCH_8_R, mode=Mode.SUBTRACT)
    extrude(amount=EXTRUDE_1_DEPTH)


solid = part.part
